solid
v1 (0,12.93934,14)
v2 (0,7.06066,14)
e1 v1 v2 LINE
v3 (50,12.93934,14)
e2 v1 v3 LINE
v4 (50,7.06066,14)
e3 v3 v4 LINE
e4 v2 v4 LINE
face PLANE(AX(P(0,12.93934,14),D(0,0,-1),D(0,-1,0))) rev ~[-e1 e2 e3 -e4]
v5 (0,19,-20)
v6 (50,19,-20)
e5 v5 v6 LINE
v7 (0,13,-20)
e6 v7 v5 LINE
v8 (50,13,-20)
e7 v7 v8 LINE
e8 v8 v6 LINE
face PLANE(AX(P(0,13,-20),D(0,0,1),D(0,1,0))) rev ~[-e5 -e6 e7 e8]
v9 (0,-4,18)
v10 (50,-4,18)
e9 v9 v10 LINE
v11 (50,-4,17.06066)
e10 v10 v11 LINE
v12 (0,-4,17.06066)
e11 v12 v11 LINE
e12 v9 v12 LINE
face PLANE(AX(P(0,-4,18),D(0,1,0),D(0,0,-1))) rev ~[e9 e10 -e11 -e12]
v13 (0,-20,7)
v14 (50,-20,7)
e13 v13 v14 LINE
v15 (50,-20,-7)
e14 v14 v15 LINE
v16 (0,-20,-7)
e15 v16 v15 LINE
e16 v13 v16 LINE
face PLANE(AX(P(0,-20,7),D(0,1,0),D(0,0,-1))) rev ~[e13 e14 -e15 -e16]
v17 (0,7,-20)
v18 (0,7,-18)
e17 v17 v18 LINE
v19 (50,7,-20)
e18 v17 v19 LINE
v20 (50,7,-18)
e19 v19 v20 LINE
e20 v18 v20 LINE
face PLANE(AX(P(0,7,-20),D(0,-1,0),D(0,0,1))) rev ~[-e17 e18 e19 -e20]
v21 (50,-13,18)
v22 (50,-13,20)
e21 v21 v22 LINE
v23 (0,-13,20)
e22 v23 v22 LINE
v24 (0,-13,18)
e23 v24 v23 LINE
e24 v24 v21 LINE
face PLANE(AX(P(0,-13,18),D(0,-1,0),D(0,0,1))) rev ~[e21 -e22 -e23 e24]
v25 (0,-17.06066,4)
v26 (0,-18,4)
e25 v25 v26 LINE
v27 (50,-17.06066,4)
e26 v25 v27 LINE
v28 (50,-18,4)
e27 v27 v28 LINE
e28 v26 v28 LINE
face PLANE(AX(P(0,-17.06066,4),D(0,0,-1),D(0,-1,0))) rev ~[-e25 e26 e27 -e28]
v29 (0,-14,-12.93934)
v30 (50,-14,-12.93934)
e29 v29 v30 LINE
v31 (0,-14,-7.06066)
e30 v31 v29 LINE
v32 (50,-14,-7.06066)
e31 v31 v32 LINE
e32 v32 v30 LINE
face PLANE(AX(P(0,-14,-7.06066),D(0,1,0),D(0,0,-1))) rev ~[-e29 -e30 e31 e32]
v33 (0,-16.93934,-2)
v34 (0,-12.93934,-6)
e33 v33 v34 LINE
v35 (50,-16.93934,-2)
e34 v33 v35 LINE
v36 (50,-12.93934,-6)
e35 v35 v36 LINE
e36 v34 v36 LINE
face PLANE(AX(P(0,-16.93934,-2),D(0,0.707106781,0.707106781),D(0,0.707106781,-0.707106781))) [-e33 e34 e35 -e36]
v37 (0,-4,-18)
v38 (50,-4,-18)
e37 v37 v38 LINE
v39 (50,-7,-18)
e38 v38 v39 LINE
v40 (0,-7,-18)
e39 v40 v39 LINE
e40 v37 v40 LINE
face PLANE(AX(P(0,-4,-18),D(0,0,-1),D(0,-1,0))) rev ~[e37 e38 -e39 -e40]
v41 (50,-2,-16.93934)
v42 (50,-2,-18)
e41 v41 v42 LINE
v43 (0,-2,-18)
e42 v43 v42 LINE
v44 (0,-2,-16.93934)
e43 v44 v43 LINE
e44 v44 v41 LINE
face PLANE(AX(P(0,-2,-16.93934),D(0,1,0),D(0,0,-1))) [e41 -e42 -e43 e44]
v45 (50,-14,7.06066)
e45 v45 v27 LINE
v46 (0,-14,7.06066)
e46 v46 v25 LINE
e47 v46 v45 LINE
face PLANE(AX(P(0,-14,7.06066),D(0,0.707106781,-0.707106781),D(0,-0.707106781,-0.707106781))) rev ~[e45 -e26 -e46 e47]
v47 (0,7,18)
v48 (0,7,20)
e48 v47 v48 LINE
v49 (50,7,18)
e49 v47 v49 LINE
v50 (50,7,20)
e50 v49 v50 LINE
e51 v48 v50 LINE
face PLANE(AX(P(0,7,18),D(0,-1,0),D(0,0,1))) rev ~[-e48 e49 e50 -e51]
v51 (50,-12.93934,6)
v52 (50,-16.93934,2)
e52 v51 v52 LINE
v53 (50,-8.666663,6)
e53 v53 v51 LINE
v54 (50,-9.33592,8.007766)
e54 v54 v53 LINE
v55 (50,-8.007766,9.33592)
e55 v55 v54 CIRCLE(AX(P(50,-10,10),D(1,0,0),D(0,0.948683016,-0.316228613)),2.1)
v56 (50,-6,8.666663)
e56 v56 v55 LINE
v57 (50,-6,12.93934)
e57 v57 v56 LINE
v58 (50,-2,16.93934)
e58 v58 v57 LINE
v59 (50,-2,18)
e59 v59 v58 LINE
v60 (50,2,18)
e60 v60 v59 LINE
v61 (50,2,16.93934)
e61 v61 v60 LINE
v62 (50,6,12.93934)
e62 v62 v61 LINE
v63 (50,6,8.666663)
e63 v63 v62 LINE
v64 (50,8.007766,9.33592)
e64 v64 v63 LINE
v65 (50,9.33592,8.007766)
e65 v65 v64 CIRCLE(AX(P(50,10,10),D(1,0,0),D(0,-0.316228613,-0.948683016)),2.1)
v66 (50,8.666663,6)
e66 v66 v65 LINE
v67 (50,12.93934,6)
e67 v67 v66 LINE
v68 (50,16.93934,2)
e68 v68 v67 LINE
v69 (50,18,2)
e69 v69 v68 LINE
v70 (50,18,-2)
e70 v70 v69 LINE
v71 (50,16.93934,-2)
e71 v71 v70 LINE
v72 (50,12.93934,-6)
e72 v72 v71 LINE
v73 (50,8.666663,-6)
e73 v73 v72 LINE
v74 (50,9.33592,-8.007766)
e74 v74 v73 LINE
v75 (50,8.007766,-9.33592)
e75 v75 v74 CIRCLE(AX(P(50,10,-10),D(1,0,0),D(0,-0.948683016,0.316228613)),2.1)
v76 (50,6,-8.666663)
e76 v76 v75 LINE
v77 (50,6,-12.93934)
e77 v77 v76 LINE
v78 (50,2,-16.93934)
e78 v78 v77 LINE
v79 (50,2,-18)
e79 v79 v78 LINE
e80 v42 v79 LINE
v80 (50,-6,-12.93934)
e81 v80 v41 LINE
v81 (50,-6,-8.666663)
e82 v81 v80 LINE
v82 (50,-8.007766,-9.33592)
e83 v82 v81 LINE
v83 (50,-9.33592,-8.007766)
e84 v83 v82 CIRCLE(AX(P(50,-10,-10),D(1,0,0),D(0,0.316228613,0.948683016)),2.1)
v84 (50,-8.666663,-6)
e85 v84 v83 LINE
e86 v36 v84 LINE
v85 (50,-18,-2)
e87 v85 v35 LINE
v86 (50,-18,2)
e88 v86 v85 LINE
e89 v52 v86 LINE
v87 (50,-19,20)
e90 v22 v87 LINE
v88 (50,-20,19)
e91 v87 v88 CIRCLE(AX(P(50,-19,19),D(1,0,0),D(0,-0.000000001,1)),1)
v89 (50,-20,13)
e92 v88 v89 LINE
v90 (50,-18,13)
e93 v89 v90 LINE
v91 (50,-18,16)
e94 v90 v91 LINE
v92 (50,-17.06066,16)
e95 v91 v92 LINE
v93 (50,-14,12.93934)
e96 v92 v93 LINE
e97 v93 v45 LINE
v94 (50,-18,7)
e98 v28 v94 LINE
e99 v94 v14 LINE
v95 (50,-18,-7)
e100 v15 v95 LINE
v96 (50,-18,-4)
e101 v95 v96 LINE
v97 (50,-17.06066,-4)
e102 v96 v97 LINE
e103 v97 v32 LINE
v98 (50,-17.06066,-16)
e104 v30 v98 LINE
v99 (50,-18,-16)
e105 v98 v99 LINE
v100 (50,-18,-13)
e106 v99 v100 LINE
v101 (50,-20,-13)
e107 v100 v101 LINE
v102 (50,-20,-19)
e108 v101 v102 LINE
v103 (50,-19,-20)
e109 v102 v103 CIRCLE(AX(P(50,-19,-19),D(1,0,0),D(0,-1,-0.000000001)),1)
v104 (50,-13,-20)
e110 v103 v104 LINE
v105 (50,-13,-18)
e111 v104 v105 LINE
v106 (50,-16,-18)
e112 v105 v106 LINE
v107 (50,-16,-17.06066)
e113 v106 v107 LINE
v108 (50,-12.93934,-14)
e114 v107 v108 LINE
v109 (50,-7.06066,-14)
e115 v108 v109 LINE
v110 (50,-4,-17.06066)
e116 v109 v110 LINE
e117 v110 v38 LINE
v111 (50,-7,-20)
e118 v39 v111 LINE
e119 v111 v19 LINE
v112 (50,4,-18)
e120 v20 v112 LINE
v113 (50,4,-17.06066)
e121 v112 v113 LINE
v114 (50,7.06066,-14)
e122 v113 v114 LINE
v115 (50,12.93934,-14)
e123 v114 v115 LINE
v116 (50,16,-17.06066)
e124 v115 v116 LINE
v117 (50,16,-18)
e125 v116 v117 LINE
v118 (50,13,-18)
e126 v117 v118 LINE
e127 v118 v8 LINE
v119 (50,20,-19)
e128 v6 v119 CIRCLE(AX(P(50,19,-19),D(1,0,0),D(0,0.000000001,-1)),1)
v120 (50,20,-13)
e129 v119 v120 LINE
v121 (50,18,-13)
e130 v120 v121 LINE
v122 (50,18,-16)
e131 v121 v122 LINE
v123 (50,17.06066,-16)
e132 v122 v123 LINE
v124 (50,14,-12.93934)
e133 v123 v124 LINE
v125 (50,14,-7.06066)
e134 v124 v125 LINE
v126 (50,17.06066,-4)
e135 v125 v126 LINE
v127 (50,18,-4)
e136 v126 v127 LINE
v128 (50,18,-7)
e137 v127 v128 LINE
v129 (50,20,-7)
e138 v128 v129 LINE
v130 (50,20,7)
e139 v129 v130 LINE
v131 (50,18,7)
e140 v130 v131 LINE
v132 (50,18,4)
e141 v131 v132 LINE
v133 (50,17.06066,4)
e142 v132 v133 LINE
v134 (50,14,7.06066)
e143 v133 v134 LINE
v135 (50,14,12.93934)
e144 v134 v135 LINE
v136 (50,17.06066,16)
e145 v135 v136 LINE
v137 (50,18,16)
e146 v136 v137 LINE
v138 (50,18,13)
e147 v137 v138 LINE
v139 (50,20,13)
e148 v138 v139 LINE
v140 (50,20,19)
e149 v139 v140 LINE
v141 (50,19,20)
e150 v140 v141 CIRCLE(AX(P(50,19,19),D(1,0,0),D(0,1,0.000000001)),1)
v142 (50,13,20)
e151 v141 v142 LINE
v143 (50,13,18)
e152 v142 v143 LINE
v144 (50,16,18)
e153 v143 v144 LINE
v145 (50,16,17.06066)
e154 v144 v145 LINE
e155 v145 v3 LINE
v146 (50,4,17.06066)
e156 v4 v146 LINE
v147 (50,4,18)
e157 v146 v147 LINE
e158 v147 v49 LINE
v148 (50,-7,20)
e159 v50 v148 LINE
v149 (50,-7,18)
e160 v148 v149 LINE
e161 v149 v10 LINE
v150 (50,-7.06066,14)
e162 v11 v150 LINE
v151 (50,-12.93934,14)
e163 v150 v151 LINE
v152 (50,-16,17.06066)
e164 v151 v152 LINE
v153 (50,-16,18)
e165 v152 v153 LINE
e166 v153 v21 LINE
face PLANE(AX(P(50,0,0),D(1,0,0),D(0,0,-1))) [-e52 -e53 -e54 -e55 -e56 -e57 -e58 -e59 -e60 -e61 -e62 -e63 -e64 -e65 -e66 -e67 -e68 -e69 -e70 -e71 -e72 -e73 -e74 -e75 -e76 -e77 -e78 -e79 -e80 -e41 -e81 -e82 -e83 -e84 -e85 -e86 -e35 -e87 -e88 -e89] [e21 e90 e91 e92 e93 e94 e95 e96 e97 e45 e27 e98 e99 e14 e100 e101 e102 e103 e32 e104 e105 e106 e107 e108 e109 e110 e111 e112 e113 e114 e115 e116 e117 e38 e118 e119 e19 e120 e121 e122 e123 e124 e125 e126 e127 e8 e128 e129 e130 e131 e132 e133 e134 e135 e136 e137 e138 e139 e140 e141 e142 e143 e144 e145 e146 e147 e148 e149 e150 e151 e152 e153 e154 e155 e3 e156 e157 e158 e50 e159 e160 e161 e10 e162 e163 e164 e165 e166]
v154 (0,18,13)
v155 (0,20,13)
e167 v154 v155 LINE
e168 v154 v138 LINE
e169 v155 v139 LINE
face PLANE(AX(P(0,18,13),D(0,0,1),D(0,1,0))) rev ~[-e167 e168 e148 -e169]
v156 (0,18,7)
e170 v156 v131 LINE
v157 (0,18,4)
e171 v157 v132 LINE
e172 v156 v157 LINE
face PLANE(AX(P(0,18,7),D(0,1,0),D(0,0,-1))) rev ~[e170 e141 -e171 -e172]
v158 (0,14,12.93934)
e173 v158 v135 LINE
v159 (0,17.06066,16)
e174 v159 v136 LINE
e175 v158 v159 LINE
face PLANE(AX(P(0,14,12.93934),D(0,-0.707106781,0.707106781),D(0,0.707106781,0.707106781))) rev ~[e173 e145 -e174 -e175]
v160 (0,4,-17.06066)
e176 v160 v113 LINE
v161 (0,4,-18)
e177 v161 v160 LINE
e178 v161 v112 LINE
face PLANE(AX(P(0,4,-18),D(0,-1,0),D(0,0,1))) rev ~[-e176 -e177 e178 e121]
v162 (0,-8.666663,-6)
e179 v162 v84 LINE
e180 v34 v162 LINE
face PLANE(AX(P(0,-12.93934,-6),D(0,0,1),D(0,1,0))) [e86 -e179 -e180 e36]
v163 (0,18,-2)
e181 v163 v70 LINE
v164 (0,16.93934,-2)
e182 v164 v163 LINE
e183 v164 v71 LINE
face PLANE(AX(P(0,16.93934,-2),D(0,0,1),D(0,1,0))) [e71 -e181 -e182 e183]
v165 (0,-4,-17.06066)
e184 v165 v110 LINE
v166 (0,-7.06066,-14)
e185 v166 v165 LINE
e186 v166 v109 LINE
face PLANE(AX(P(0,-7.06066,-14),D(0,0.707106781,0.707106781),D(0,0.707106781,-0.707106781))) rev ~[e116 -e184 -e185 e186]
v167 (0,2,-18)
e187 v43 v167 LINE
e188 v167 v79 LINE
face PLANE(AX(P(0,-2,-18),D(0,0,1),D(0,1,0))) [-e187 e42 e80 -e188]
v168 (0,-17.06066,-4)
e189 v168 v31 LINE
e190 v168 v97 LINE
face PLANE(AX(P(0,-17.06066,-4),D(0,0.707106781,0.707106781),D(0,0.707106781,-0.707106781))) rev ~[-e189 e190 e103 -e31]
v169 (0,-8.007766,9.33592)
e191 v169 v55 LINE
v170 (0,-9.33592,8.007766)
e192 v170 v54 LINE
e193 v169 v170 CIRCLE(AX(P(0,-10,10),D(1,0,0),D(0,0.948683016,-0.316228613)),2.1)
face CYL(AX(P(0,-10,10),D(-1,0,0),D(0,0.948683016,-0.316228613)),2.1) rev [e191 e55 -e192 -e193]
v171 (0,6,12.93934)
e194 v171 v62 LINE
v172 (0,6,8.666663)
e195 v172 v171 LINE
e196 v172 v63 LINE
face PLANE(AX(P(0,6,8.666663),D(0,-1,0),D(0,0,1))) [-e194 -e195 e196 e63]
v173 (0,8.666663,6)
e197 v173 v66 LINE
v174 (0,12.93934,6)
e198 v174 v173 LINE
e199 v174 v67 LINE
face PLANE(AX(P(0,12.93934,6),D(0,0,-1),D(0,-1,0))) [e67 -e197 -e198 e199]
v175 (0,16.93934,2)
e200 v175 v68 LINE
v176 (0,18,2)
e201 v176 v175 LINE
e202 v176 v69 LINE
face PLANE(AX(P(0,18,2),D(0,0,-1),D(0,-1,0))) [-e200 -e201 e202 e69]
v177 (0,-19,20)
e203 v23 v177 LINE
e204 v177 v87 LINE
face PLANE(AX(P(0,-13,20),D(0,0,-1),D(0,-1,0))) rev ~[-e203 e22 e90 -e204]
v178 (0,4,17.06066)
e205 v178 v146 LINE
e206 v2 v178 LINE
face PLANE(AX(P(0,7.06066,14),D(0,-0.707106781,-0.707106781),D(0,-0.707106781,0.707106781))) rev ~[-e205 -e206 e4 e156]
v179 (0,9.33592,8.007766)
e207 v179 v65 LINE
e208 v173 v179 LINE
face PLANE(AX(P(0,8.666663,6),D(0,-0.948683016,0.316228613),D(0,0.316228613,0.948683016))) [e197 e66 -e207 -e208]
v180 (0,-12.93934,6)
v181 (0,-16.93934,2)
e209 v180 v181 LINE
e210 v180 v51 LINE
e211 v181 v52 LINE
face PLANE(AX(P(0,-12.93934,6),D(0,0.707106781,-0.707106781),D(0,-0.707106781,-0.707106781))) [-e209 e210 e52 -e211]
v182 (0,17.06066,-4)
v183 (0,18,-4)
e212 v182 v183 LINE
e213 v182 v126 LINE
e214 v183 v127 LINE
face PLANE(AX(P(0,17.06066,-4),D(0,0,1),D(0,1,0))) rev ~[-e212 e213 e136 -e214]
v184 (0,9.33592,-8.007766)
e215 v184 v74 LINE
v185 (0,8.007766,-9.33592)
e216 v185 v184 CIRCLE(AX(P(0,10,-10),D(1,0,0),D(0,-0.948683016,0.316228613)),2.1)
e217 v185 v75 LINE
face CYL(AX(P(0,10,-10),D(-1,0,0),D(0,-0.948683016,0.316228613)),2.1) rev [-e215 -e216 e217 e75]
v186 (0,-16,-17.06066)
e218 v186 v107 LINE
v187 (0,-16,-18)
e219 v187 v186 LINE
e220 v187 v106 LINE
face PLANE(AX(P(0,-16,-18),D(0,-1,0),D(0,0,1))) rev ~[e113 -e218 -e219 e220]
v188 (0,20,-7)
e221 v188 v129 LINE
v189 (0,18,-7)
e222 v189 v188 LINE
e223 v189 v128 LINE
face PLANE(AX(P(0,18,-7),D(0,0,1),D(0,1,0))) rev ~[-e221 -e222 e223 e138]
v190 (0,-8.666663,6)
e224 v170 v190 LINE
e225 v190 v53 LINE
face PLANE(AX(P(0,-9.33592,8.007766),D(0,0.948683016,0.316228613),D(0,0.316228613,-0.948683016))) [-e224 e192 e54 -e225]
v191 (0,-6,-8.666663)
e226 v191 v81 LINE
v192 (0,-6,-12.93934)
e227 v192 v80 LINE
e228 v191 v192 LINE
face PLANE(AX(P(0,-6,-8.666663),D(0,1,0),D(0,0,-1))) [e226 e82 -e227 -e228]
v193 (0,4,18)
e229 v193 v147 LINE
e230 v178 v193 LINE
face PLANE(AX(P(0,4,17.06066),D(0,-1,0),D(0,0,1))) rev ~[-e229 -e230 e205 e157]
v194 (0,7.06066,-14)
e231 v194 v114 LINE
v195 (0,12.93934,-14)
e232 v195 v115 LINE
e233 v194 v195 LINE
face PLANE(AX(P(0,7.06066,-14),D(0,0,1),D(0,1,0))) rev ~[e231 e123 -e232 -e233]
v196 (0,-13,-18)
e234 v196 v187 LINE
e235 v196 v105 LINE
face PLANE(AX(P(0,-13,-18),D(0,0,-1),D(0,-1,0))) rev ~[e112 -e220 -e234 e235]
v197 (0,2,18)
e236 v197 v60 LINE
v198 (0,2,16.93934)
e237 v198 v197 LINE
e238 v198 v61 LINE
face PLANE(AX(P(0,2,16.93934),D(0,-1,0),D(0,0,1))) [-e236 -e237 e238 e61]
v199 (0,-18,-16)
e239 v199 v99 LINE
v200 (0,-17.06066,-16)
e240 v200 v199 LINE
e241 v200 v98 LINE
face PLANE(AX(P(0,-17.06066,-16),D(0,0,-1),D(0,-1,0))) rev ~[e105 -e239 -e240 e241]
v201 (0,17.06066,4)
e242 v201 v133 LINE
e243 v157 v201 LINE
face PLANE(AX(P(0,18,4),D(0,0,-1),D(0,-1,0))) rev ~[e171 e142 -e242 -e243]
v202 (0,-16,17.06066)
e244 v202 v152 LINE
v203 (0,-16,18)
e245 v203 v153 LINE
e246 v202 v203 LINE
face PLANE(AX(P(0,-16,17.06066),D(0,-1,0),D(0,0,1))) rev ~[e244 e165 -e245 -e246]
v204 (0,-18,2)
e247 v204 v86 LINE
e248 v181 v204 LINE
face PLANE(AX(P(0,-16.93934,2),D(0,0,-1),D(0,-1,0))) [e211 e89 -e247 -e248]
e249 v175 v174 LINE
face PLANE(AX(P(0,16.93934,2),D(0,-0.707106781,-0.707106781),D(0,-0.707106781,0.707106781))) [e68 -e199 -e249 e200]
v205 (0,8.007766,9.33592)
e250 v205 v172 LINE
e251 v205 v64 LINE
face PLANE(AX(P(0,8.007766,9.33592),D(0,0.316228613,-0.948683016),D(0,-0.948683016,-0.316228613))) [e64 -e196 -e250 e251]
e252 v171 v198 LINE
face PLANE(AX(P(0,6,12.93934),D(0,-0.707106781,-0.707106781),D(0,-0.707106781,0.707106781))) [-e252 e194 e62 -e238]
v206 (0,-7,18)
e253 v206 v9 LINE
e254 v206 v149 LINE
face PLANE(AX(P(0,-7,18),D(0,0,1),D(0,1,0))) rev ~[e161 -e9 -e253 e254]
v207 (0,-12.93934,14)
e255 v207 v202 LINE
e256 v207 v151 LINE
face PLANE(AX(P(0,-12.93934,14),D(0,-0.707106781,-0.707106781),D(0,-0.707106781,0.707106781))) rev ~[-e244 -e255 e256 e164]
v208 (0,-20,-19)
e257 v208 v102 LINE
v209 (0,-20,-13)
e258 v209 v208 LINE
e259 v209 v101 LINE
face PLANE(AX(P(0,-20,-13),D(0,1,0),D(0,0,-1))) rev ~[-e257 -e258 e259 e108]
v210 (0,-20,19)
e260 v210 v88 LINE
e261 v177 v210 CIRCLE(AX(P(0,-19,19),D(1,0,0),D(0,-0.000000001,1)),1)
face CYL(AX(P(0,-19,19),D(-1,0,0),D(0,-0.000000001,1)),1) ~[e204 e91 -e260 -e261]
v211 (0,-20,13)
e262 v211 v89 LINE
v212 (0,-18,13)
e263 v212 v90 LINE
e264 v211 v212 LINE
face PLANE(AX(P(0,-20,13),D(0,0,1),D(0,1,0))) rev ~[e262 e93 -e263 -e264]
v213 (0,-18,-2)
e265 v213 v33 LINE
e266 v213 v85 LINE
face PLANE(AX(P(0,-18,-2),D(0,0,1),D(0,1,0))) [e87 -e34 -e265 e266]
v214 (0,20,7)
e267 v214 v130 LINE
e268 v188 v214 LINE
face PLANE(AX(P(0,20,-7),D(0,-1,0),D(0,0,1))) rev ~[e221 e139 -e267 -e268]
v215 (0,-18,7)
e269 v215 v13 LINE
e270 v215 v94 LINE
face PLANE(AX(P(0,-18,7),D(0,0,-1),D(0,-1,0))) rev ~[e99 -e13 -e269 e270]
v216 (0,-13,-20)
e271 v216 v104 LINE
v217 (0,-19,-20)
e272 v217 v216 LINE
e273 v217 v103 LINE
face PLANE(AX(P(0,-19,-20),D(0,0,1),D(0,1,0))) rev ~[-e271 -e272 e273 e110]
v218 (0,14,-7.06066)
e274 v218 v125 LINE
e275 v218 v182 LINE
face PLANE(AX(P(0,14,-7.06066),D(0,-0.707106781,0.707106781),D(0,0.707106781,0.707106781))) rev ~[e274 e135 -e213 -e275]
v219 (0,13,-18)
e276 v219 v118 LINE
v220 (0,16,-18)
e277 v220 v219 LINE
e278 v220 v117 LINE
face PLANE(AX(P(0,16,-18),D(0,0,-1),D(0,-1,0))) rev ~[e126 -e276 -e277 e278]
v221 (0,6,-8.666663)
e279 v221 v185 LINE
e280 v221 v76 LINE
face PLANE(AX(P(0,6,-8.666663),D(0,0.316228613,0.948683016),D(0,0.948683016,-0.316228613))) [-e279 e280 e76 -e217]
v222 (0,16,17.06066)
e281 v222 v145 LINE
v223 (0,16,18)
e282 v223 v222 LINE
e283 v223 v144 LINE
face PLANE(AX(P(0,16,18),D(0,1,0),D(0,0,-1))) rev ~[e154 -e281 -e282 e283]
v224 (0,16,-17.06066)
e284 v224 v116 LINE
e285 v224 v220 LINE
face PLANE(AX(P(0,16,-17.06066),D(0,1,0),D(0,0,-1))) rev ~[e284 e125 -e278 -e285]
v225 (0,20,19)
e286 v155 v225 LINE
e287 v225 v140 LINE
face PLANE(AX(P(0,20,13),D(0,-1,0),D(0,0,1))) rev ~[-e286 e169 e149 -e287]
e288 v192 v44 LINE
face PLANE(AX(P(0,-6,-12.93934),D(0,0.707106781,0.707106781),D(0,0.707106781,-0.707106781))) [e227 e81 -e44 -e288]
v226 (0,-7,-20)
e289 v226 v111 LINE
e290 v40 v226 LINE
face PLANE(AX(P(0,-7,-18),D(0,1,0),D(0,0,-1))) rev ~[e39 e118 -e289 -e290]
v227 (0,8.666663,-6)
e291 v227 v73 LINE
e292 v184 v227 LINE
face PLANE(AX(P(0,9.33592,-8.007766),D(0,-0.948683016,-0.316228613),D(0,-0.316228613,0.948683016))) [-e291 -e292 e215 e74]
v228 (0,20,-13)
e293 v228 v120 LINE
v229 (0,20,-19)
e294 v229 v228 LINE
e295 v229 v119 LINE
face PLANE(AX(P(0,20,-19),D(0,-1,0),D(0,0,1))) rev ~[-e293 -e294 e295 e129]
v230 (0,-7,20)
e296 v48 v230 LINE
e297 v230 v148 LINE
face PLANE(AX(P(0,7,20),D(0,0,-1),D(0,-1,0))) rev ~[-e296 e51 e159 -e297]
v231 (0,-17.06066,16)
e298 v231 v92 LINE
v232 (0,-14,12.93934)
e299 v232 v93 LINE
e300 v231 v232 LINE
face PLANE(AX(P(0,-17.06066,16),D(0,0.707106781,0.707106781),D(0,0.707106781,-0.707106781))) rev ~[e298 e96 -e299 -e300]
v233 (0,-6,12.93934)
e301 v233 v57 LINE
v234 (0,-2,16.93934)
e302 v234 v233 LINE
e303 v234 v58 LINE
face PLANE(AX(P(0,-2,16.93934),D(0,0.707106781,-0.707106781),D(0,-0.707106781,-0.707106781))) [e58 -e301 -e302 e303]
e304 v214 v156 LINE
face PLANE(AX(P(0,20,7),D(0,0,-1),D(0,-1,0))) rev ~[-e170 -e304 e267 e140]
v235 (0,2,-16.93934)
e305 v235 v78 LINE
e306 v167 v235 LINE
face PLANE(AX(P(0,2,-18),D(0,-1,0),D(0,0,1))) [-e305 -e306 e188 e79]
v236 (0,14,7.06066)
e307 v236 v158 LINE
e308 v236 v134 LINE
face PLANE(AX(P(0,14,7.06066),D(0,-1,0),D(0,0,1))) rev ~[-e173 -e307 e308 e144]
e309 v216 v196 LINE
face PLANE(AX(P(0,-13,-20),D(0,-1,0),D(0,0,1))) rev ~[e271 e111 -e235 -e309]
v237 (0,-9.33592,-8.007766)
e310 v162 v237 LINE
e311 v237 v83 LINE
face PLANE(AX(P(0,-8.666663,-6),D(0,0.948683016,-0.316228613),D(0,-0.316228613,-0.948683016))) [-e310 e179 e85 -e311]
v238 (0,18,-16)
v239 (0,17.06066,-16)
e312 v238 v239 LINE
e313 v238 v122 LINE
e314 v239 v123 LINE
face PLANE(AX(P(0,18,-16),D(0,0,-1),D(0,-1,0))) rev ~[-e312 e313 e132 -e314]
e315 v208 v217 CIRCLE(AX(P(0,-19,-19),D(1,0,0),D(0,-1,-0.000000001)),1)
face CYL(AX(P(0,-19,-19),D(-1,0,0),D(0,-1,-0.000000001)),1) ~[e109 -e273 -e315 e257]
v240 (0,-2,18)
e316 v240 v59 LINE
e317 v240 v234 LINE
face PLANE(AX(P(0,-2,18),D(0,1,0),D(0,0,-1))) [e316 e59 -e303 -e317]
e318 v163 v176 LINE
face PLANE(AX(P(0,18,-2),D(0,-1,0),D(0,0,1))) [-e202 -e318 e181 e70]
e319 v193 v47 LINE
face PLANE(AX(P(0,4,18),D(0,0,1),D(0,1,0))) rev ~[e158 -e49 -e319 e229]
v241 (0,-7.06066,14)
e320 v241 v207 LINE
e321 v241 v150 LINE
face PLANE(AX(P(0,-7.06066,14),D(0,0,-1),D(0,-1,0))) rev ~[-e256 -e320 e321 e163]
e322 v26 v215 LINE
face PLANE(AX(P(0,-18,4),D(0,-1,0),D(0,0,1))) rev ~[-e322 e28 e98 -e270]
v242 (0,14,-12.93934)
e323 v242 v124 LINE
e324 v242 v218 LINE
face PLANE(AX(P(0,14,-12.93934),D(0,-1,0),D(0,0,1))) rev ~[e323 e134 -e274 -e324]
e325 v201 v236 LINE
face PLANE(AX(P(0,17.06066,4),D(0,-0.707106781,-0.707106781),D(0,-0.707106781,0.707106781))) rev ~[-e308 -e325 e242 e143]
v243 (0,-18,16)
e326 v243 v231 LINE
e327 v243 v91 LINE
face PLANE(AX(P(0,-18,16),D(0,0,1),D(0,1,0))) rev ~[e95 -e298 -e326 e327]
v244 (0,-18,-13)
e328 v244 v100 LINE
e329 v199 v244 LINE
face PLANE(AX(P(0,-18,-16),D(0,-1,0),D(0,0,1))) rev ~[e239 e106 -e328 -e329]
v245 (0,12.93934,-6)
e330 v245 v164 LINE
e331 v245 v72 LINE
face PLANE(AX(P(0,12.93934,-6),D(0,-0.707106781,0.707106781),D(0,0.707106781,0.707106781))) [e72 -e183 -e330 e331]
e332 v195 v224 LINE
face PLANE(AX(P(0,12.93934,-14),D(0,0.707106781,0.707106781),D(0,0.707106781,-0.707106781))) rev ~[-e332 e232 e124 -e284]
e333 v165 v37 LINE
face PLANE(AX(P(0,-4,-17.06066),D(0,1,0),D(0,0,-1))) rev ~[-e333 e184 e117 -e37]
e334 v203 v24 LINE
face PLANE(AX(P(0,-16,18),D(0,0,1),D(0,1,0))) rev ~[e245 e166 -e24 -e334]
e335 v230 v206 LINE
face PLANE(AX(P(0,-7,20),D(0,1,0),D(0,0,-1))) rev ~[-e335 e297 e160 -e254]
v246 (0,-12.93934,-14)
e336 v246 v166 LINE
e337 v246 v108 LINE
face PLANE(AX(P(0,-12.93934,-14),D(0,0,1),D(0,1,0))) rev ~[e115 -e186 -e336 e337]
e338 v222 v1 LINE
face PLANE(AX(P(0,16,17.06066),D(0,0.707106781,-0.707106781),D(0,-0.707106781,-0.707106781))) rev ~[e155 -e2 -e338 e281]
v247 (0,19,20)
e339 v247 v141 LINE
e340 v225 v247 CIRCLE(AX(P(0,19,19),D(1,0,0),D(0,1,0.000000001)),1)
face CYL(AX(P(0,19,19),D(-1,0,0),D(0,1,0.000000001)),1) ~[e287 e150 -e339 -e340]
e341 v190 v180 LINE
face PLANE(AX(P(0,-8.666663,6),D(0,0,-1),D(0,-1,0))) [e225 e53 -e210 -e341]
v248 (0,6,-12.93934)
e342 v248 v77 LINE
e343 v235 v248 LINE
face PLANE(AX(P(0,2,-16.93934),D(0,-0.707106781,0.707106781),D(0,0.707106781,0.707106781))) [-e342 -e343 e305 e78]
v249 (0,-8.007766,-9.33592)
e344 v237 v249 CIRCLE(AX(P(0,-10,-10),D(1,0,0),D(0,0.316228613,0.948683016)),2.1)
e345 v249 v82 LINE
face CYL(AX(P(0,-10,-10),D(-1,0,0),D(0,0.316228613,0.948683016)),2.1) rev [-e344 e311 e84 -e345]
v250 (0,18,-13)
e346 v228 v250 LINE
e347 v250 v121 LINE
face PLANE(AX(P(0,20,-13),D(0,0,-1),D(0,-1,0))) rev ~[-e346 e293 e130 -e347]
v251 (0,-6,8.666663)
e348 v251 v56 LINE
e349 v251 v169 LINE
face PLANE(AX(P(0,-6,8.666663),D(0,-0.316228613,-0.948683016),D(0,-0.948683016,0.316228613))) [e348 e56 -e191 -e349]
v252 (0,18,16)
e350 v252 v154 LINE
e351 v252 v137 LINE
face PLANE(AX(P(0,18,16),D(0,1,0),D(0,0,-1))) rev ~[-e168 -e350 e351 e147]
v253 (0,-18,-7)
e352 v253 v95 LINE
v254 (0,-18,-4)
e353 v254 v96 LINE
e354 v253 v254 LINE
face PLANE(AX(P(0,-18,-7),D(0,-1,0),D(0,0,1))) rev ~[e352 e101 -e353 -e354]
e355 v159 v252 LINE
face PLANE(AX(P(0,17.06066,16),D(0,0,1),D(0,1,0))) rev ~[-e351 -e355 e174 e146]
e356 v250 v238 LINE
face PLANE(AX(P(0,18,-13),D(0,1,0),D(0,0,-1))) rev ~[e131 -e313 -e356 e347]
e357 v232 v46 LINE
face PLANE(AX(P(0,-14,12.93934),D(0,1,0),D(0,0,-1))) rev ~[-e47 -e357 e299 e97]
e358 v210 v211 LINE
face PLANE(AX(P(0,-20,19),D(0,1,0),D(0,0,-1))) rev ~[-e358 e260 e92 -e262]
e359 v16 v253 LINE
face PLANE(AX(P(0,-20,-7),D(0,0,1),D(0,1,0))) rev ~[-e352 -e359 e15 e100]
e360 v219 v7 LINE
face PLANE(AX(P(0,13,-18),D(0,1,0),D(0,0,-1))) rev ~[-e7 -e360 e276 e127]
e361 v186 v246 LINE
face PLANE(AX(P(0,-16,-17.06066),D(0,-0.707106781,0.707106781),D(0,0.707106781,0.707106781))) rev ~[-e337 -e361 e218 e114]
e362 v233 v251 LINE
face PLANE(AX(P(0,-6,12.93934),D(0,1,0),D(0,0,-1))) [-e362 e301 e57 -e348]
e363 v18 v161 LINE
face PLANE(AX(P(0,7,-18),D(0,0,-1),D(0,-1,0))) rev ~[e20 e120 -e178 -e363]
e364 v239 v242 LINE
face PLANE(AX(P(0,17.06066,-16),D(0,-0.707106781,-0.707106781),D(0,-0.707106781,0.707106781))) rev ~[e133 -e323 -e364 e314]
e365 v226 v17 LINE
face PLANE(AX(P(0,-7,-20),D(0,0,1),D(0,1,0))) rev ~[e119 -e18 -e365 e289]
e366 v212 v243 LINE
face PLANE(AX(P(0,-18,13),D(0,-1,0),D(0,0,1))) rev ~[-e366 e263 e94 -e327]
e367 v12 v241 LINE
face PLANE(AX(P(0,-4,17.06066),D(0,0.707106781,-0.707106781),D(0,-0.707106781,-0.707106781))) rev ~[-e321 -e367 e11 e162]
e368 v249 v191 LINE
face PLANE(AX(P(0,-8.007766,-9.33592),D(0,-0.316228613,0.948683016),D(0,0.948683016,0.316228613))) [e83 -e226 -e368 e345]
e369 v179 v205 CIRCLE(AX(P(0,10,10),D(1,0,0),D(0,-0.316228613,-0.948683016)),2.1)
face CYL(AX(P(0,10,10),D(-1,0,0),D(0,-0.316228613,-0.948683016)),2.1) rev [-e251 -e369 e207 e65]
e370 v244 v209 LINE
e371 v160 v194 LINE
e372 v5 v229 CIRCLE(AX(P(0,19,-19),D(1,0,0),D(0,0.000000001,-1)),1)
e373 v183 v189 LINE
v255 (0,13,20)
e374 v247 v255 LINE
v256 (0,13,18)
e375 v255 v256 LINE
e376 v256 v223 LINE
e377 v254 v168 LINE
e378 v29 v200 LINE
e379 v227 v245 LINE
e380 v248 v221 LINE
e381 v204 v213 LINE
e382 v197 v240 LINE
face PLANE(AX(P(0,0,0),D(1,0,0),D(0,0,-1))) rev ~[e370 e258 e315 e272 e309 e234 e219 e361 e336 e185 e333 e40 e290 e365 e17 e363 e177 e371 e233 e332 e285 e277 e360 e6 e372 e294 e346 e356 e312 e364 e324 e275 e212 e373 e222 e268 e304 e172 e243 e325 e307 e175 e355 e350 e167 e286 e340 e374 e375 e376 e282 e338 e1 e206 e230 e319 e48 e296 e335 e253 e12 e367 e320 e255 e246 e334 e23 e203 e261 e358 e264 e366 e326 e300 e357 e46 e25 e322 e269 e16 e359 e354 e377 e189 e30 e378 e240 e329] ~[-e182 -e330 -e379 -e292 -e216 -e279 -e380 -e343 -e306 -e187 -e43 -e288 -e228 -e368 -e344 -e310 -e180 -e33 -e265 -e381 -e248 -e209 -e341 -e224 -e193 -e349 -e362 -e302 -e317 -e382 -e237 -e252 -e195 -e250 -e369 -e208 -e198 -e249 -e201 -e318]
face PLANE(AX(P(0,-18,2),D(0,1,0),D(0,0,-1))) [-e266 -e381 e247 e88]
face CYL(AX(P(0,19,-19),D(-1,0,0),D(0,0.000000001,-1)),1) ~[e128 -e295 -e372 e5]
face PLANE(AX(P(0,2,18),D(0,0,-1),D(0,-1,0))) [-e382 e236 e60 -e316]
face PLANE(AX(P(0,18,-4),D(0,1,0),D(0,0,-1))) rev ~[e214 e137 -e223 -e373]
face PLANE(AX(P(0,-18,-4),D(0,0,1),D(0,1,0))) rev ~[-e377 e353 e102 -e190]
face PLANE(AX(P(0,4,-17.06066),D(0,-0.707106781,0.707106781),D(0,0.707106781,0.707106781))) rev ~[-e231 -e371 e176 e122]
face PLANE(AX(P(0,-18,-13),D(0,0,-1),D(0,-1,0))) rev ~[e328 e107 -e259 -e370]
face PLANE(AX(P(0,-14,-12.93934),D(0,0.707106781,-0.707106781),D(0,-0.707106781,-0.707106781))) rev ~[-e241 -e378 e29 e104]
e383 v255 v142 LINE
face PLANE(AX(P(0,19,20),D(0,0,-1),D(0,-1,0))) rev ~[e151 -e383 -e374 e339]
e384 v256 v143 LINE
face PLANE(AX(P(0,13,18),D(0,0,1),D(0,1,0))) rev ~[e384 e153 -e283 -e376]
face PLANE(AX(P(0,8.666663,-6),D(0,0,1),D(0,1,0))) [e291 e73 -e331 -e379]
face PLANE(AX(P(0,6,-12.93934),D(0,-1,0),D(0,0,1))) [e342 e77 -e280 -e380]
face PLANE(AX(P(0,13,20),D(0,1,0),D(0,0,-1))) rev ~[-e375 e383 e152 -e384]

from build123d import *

# Parameters (mm, degrees)
BOSS_EXTRUDE1_DEPTH = 50


with BuildPart() as part:
    # Sketch1 → Boss-Extrude1 (new body)
    with BuildSketch(Plane(origin=(0, 0, 0), x_dir=(0, 0, -1), z_dir=(1, 0, 0))):
        with BuildLine():
            Line((-20, 19), (-20, 13))
            Line((-20, 13), (-18, 13))
            Line((-18, 13), (-18, 16))
            Line((-18, 16), (-17.060660172, 16))
            Line((-17.060660172, 16), (-14, 12.939339828))
            Line((-14, 12.939339828), (-14, 7.060660172))
            Line((-14, 7.060660172), (-17.060660172, 4))
            Line((-17.060660172, 4), (-18, 4))
            Line((-18, 4), (-18, 7))
            Line((-18, 7), (-20, 7))
            Line((-20, 7), (-20, -7))
            Line((-20, -7), (-18, -7))
            Line((-18, -7), (-18, -4))
            Line((-18, -4), (-17.060660172, -4))
            Line((-17.060660172, -4), (-14, -7.060660172))
            Line((-14, -7.060660172), (-14, -12.939339828))
            Line((-14, -12.939339828), (-17.060660172, -16))
            Line((-17.060660172, -16), (-18, -16))
            Line((-18, -16), (-18, -13))
            Line((-18, -13), (-20, -13))
            Line((-20, -13), (-20, -19))
            ThreePointArc((-20, -19), (-19.707106781, -19.707106781), (-19, -20))
            Line((-19, -20), (-13, -20))
            Line((-13, -20), (-13, -18))
            Line((-13, -18), (-16, -18))
            Line((-16, -18), (-16, -17.060660172))
            Line((-16, -17.060660172), (-12.939339828, -14))
            Line((-12.939339828, -14), (-7.060660172, -14))
            Line((-7.060660172, -14), (-4, -17.060660172))
            Line((-4, -17.060660172), (-4, -18))
            Line((-4, -18), (-7, -18))
            Line((-7, -18), (-7, -20))
            Line((-7, -20), (7, -20))
            Line((7, -20), (7, -18))
            Line((7, -18), (4, -18))
            Line((4, -18), (4, -17.060660172))
            Line((4, -17.060660172), (7.060660172, -14))
            Line((7.060660172, -14), (12.939339828, -14))
            Line((12.939339828, -14), (16, -17.060660172))
            Line((16, -17.060660172), (16, -18))
            Line((16, -18), (13, -18))
            Line((13, -18), (13, -20))
            Line((13, -20), (19, -20))
            ThreePointArc((19, -20), (19.707106781, -19.707106781), (20, -19))
            Line((20, -19), (20, -13))
            Line((20, -13), (18, -13))
            Line((18, -13), (18, -16))
            Line((18, -16), (17.060660172, -16))
            Line((17.060660172, -16), (14, -12.939339828))
            Line((14, -12.939339828), (14, -7.060660172))
            Line((14, -7.060660172), (17.060660172, -4))
            Line((17.060660172, -4), (18, -4))
            Line((18, -4), (18, -7))
            Line((18, -7), (20, -7))
            Line((20, -7), (20, 7))
            Line((20, 7), (18, 7))
            Line((18, 7), (18, 4))
            Line((18, 4), (17.060660172, 4))
            Line((17.060660172, 4), (14, 7.060660172))
            Line((14, 7.060660172), (14, 12.939339828))
            Line((14, 12.939339828), (17.060660172, 16))
            Line((17.060660172, 16), (18, 16))
            Line((18, 16), (18, 13))
            Line((18, 13), (20, 13))
            Line((20, 13), (20, 19))
            ThreePointArc((20, 19), (19.707106781, 19.707106781), (19, 20))
            Line((19, 20), (13, 20))
            Line((13, 20), (13, 18))
            Line((13, 18), (16, 18))
            Line((16, 18), (16, 17.060660172))
            Line((16, 17.060660172), (12.939339828, 14))
            Line((12.939339828, 14), (7.060660172, 14))
            Line((7.060660172, 14), (4, 17.060660172))
            Line((4, 17.060660172), (4, 18))
            Line((4, 18), (7, 18))
            Line((7, 18), (7, 20))
            Line((7, 20), (-7, 20))
            Line((-7, 20), (-7, 18))
            Line((-7, 18), (-4, 18))
            Line((-4, 18), (-4, 17.060660172))
            Line((-4, 17.060660172), (-7.060660172, 14))
            Line((-7.060660172, 14), (-12.939339828, 14))
            Line((-12.939339828, 14), (-16, 17.060660172))
            Line((-16, 17.060660172), (-16, 18))
            Line((-16, 18), (-13, 18))
            Line((-13, 18), (-13, 20))
            Line((-13, 20), (-19, 20))
            ThreePointArc((-19, 20), (-19.707106781, 19.707106781), (-20, 19))
        make_face()
        with BuildLine():
            Line((-16.939339828, 2), (-18, 2))
            Line((-18, 2), (-18, -2))
            Line((-18, -2), (-16.939339828, -2))
            Line((-16.939339828, -2), (-12.939339828, -6))
            Line((-12.939339828, -6), (-8.666662697, -6))
            Line((-8.666662697, -6), (-9.335919912, -8.007765667))
            ThreePointArc((-9.335919912, -8.007765667), (-11.48492424, -11.48492424), (-8.007765667, -9.335919912))
            Line((-8.007765667, -9.335919912), (-6, -8.666662697))
            Line((-6, -8.666662697), (-6, -12.939339828))
            Line((-6, -12.939339828), (-2, -16.939339828))
            Line((-2, -16.939339828), (-2, -18))
            Line((-2, -18), (2, -18))
            Line((2, -18), (2, -16.939339828))
            Line((2, -16.939339828), (6, -12.939339828))
            Line((6, -12.939339828), (6, -8.666662697))
            Line((6, -8.666662697), (8.007765667, -9.335919912))
            ThreePointArc((8.007765667, -9.335919912), (11.48492424, -11.48492424), (9.335919912, -8.007765667))
            Line((9.335919912, -8.007765667), (8.666662697, -6))
            Line((8.666662697, -6), (12.939339828, -6))
            Line((12.939339828, -6), (16.939339828, -2))
            Line((16.939339828, -2), (18, -2))
            Line((18, -2), (18, 2))
            Line((18, 2), (16.939339828, 2))
            Line((16.939339828, 2), (12.939339828, 6))
            Line((12.939339828, 6), (8.666662697, 6))
            Line((8.666662697, 6), (9.335919912, 8.007765667))
            ThreePointArc((9.335919912, 8.007765667), (11.48492424, 11.48492424), (8.007765667, 9.335919912))
            Line((8.007765667, 9.335919912), (6, 8.666662697))
            Line((6, 8.666662697), (6, 12.939339828))
            Line((6, 12.939339828), (2, 16.939339828))
            Line((2, 16.939339828), (2, 18))
            Line((2, 18), (-2, 18))
            Line((-2, 18), (-2, 16.939339828))
            Line((-2, 16.939339828), (-6, 12.939339828))
            Line((-6, 12.939339828), (-6, 8.666662697))
            Line((-6, 8.666662697), (-8.007765667, 9.335919912))
            ThreePointArc((-8.007765667, 9.335919912), (-11.48492424, 11.48492424), (-9.335919912, 8.007765667))
            Line((-9.335919912, 8.007765667), (-8.666662697, 6))
            Line((-8.666662697, 6), (-12.939339828, 6))
            Line((-12.939339828, 6), (-16.939339828, 2))
        make_face(mode=Mode.SUBTRACT)
    extrude(amount=BOSS_EXTRUDE1_DEPTH)


solid = part.part
